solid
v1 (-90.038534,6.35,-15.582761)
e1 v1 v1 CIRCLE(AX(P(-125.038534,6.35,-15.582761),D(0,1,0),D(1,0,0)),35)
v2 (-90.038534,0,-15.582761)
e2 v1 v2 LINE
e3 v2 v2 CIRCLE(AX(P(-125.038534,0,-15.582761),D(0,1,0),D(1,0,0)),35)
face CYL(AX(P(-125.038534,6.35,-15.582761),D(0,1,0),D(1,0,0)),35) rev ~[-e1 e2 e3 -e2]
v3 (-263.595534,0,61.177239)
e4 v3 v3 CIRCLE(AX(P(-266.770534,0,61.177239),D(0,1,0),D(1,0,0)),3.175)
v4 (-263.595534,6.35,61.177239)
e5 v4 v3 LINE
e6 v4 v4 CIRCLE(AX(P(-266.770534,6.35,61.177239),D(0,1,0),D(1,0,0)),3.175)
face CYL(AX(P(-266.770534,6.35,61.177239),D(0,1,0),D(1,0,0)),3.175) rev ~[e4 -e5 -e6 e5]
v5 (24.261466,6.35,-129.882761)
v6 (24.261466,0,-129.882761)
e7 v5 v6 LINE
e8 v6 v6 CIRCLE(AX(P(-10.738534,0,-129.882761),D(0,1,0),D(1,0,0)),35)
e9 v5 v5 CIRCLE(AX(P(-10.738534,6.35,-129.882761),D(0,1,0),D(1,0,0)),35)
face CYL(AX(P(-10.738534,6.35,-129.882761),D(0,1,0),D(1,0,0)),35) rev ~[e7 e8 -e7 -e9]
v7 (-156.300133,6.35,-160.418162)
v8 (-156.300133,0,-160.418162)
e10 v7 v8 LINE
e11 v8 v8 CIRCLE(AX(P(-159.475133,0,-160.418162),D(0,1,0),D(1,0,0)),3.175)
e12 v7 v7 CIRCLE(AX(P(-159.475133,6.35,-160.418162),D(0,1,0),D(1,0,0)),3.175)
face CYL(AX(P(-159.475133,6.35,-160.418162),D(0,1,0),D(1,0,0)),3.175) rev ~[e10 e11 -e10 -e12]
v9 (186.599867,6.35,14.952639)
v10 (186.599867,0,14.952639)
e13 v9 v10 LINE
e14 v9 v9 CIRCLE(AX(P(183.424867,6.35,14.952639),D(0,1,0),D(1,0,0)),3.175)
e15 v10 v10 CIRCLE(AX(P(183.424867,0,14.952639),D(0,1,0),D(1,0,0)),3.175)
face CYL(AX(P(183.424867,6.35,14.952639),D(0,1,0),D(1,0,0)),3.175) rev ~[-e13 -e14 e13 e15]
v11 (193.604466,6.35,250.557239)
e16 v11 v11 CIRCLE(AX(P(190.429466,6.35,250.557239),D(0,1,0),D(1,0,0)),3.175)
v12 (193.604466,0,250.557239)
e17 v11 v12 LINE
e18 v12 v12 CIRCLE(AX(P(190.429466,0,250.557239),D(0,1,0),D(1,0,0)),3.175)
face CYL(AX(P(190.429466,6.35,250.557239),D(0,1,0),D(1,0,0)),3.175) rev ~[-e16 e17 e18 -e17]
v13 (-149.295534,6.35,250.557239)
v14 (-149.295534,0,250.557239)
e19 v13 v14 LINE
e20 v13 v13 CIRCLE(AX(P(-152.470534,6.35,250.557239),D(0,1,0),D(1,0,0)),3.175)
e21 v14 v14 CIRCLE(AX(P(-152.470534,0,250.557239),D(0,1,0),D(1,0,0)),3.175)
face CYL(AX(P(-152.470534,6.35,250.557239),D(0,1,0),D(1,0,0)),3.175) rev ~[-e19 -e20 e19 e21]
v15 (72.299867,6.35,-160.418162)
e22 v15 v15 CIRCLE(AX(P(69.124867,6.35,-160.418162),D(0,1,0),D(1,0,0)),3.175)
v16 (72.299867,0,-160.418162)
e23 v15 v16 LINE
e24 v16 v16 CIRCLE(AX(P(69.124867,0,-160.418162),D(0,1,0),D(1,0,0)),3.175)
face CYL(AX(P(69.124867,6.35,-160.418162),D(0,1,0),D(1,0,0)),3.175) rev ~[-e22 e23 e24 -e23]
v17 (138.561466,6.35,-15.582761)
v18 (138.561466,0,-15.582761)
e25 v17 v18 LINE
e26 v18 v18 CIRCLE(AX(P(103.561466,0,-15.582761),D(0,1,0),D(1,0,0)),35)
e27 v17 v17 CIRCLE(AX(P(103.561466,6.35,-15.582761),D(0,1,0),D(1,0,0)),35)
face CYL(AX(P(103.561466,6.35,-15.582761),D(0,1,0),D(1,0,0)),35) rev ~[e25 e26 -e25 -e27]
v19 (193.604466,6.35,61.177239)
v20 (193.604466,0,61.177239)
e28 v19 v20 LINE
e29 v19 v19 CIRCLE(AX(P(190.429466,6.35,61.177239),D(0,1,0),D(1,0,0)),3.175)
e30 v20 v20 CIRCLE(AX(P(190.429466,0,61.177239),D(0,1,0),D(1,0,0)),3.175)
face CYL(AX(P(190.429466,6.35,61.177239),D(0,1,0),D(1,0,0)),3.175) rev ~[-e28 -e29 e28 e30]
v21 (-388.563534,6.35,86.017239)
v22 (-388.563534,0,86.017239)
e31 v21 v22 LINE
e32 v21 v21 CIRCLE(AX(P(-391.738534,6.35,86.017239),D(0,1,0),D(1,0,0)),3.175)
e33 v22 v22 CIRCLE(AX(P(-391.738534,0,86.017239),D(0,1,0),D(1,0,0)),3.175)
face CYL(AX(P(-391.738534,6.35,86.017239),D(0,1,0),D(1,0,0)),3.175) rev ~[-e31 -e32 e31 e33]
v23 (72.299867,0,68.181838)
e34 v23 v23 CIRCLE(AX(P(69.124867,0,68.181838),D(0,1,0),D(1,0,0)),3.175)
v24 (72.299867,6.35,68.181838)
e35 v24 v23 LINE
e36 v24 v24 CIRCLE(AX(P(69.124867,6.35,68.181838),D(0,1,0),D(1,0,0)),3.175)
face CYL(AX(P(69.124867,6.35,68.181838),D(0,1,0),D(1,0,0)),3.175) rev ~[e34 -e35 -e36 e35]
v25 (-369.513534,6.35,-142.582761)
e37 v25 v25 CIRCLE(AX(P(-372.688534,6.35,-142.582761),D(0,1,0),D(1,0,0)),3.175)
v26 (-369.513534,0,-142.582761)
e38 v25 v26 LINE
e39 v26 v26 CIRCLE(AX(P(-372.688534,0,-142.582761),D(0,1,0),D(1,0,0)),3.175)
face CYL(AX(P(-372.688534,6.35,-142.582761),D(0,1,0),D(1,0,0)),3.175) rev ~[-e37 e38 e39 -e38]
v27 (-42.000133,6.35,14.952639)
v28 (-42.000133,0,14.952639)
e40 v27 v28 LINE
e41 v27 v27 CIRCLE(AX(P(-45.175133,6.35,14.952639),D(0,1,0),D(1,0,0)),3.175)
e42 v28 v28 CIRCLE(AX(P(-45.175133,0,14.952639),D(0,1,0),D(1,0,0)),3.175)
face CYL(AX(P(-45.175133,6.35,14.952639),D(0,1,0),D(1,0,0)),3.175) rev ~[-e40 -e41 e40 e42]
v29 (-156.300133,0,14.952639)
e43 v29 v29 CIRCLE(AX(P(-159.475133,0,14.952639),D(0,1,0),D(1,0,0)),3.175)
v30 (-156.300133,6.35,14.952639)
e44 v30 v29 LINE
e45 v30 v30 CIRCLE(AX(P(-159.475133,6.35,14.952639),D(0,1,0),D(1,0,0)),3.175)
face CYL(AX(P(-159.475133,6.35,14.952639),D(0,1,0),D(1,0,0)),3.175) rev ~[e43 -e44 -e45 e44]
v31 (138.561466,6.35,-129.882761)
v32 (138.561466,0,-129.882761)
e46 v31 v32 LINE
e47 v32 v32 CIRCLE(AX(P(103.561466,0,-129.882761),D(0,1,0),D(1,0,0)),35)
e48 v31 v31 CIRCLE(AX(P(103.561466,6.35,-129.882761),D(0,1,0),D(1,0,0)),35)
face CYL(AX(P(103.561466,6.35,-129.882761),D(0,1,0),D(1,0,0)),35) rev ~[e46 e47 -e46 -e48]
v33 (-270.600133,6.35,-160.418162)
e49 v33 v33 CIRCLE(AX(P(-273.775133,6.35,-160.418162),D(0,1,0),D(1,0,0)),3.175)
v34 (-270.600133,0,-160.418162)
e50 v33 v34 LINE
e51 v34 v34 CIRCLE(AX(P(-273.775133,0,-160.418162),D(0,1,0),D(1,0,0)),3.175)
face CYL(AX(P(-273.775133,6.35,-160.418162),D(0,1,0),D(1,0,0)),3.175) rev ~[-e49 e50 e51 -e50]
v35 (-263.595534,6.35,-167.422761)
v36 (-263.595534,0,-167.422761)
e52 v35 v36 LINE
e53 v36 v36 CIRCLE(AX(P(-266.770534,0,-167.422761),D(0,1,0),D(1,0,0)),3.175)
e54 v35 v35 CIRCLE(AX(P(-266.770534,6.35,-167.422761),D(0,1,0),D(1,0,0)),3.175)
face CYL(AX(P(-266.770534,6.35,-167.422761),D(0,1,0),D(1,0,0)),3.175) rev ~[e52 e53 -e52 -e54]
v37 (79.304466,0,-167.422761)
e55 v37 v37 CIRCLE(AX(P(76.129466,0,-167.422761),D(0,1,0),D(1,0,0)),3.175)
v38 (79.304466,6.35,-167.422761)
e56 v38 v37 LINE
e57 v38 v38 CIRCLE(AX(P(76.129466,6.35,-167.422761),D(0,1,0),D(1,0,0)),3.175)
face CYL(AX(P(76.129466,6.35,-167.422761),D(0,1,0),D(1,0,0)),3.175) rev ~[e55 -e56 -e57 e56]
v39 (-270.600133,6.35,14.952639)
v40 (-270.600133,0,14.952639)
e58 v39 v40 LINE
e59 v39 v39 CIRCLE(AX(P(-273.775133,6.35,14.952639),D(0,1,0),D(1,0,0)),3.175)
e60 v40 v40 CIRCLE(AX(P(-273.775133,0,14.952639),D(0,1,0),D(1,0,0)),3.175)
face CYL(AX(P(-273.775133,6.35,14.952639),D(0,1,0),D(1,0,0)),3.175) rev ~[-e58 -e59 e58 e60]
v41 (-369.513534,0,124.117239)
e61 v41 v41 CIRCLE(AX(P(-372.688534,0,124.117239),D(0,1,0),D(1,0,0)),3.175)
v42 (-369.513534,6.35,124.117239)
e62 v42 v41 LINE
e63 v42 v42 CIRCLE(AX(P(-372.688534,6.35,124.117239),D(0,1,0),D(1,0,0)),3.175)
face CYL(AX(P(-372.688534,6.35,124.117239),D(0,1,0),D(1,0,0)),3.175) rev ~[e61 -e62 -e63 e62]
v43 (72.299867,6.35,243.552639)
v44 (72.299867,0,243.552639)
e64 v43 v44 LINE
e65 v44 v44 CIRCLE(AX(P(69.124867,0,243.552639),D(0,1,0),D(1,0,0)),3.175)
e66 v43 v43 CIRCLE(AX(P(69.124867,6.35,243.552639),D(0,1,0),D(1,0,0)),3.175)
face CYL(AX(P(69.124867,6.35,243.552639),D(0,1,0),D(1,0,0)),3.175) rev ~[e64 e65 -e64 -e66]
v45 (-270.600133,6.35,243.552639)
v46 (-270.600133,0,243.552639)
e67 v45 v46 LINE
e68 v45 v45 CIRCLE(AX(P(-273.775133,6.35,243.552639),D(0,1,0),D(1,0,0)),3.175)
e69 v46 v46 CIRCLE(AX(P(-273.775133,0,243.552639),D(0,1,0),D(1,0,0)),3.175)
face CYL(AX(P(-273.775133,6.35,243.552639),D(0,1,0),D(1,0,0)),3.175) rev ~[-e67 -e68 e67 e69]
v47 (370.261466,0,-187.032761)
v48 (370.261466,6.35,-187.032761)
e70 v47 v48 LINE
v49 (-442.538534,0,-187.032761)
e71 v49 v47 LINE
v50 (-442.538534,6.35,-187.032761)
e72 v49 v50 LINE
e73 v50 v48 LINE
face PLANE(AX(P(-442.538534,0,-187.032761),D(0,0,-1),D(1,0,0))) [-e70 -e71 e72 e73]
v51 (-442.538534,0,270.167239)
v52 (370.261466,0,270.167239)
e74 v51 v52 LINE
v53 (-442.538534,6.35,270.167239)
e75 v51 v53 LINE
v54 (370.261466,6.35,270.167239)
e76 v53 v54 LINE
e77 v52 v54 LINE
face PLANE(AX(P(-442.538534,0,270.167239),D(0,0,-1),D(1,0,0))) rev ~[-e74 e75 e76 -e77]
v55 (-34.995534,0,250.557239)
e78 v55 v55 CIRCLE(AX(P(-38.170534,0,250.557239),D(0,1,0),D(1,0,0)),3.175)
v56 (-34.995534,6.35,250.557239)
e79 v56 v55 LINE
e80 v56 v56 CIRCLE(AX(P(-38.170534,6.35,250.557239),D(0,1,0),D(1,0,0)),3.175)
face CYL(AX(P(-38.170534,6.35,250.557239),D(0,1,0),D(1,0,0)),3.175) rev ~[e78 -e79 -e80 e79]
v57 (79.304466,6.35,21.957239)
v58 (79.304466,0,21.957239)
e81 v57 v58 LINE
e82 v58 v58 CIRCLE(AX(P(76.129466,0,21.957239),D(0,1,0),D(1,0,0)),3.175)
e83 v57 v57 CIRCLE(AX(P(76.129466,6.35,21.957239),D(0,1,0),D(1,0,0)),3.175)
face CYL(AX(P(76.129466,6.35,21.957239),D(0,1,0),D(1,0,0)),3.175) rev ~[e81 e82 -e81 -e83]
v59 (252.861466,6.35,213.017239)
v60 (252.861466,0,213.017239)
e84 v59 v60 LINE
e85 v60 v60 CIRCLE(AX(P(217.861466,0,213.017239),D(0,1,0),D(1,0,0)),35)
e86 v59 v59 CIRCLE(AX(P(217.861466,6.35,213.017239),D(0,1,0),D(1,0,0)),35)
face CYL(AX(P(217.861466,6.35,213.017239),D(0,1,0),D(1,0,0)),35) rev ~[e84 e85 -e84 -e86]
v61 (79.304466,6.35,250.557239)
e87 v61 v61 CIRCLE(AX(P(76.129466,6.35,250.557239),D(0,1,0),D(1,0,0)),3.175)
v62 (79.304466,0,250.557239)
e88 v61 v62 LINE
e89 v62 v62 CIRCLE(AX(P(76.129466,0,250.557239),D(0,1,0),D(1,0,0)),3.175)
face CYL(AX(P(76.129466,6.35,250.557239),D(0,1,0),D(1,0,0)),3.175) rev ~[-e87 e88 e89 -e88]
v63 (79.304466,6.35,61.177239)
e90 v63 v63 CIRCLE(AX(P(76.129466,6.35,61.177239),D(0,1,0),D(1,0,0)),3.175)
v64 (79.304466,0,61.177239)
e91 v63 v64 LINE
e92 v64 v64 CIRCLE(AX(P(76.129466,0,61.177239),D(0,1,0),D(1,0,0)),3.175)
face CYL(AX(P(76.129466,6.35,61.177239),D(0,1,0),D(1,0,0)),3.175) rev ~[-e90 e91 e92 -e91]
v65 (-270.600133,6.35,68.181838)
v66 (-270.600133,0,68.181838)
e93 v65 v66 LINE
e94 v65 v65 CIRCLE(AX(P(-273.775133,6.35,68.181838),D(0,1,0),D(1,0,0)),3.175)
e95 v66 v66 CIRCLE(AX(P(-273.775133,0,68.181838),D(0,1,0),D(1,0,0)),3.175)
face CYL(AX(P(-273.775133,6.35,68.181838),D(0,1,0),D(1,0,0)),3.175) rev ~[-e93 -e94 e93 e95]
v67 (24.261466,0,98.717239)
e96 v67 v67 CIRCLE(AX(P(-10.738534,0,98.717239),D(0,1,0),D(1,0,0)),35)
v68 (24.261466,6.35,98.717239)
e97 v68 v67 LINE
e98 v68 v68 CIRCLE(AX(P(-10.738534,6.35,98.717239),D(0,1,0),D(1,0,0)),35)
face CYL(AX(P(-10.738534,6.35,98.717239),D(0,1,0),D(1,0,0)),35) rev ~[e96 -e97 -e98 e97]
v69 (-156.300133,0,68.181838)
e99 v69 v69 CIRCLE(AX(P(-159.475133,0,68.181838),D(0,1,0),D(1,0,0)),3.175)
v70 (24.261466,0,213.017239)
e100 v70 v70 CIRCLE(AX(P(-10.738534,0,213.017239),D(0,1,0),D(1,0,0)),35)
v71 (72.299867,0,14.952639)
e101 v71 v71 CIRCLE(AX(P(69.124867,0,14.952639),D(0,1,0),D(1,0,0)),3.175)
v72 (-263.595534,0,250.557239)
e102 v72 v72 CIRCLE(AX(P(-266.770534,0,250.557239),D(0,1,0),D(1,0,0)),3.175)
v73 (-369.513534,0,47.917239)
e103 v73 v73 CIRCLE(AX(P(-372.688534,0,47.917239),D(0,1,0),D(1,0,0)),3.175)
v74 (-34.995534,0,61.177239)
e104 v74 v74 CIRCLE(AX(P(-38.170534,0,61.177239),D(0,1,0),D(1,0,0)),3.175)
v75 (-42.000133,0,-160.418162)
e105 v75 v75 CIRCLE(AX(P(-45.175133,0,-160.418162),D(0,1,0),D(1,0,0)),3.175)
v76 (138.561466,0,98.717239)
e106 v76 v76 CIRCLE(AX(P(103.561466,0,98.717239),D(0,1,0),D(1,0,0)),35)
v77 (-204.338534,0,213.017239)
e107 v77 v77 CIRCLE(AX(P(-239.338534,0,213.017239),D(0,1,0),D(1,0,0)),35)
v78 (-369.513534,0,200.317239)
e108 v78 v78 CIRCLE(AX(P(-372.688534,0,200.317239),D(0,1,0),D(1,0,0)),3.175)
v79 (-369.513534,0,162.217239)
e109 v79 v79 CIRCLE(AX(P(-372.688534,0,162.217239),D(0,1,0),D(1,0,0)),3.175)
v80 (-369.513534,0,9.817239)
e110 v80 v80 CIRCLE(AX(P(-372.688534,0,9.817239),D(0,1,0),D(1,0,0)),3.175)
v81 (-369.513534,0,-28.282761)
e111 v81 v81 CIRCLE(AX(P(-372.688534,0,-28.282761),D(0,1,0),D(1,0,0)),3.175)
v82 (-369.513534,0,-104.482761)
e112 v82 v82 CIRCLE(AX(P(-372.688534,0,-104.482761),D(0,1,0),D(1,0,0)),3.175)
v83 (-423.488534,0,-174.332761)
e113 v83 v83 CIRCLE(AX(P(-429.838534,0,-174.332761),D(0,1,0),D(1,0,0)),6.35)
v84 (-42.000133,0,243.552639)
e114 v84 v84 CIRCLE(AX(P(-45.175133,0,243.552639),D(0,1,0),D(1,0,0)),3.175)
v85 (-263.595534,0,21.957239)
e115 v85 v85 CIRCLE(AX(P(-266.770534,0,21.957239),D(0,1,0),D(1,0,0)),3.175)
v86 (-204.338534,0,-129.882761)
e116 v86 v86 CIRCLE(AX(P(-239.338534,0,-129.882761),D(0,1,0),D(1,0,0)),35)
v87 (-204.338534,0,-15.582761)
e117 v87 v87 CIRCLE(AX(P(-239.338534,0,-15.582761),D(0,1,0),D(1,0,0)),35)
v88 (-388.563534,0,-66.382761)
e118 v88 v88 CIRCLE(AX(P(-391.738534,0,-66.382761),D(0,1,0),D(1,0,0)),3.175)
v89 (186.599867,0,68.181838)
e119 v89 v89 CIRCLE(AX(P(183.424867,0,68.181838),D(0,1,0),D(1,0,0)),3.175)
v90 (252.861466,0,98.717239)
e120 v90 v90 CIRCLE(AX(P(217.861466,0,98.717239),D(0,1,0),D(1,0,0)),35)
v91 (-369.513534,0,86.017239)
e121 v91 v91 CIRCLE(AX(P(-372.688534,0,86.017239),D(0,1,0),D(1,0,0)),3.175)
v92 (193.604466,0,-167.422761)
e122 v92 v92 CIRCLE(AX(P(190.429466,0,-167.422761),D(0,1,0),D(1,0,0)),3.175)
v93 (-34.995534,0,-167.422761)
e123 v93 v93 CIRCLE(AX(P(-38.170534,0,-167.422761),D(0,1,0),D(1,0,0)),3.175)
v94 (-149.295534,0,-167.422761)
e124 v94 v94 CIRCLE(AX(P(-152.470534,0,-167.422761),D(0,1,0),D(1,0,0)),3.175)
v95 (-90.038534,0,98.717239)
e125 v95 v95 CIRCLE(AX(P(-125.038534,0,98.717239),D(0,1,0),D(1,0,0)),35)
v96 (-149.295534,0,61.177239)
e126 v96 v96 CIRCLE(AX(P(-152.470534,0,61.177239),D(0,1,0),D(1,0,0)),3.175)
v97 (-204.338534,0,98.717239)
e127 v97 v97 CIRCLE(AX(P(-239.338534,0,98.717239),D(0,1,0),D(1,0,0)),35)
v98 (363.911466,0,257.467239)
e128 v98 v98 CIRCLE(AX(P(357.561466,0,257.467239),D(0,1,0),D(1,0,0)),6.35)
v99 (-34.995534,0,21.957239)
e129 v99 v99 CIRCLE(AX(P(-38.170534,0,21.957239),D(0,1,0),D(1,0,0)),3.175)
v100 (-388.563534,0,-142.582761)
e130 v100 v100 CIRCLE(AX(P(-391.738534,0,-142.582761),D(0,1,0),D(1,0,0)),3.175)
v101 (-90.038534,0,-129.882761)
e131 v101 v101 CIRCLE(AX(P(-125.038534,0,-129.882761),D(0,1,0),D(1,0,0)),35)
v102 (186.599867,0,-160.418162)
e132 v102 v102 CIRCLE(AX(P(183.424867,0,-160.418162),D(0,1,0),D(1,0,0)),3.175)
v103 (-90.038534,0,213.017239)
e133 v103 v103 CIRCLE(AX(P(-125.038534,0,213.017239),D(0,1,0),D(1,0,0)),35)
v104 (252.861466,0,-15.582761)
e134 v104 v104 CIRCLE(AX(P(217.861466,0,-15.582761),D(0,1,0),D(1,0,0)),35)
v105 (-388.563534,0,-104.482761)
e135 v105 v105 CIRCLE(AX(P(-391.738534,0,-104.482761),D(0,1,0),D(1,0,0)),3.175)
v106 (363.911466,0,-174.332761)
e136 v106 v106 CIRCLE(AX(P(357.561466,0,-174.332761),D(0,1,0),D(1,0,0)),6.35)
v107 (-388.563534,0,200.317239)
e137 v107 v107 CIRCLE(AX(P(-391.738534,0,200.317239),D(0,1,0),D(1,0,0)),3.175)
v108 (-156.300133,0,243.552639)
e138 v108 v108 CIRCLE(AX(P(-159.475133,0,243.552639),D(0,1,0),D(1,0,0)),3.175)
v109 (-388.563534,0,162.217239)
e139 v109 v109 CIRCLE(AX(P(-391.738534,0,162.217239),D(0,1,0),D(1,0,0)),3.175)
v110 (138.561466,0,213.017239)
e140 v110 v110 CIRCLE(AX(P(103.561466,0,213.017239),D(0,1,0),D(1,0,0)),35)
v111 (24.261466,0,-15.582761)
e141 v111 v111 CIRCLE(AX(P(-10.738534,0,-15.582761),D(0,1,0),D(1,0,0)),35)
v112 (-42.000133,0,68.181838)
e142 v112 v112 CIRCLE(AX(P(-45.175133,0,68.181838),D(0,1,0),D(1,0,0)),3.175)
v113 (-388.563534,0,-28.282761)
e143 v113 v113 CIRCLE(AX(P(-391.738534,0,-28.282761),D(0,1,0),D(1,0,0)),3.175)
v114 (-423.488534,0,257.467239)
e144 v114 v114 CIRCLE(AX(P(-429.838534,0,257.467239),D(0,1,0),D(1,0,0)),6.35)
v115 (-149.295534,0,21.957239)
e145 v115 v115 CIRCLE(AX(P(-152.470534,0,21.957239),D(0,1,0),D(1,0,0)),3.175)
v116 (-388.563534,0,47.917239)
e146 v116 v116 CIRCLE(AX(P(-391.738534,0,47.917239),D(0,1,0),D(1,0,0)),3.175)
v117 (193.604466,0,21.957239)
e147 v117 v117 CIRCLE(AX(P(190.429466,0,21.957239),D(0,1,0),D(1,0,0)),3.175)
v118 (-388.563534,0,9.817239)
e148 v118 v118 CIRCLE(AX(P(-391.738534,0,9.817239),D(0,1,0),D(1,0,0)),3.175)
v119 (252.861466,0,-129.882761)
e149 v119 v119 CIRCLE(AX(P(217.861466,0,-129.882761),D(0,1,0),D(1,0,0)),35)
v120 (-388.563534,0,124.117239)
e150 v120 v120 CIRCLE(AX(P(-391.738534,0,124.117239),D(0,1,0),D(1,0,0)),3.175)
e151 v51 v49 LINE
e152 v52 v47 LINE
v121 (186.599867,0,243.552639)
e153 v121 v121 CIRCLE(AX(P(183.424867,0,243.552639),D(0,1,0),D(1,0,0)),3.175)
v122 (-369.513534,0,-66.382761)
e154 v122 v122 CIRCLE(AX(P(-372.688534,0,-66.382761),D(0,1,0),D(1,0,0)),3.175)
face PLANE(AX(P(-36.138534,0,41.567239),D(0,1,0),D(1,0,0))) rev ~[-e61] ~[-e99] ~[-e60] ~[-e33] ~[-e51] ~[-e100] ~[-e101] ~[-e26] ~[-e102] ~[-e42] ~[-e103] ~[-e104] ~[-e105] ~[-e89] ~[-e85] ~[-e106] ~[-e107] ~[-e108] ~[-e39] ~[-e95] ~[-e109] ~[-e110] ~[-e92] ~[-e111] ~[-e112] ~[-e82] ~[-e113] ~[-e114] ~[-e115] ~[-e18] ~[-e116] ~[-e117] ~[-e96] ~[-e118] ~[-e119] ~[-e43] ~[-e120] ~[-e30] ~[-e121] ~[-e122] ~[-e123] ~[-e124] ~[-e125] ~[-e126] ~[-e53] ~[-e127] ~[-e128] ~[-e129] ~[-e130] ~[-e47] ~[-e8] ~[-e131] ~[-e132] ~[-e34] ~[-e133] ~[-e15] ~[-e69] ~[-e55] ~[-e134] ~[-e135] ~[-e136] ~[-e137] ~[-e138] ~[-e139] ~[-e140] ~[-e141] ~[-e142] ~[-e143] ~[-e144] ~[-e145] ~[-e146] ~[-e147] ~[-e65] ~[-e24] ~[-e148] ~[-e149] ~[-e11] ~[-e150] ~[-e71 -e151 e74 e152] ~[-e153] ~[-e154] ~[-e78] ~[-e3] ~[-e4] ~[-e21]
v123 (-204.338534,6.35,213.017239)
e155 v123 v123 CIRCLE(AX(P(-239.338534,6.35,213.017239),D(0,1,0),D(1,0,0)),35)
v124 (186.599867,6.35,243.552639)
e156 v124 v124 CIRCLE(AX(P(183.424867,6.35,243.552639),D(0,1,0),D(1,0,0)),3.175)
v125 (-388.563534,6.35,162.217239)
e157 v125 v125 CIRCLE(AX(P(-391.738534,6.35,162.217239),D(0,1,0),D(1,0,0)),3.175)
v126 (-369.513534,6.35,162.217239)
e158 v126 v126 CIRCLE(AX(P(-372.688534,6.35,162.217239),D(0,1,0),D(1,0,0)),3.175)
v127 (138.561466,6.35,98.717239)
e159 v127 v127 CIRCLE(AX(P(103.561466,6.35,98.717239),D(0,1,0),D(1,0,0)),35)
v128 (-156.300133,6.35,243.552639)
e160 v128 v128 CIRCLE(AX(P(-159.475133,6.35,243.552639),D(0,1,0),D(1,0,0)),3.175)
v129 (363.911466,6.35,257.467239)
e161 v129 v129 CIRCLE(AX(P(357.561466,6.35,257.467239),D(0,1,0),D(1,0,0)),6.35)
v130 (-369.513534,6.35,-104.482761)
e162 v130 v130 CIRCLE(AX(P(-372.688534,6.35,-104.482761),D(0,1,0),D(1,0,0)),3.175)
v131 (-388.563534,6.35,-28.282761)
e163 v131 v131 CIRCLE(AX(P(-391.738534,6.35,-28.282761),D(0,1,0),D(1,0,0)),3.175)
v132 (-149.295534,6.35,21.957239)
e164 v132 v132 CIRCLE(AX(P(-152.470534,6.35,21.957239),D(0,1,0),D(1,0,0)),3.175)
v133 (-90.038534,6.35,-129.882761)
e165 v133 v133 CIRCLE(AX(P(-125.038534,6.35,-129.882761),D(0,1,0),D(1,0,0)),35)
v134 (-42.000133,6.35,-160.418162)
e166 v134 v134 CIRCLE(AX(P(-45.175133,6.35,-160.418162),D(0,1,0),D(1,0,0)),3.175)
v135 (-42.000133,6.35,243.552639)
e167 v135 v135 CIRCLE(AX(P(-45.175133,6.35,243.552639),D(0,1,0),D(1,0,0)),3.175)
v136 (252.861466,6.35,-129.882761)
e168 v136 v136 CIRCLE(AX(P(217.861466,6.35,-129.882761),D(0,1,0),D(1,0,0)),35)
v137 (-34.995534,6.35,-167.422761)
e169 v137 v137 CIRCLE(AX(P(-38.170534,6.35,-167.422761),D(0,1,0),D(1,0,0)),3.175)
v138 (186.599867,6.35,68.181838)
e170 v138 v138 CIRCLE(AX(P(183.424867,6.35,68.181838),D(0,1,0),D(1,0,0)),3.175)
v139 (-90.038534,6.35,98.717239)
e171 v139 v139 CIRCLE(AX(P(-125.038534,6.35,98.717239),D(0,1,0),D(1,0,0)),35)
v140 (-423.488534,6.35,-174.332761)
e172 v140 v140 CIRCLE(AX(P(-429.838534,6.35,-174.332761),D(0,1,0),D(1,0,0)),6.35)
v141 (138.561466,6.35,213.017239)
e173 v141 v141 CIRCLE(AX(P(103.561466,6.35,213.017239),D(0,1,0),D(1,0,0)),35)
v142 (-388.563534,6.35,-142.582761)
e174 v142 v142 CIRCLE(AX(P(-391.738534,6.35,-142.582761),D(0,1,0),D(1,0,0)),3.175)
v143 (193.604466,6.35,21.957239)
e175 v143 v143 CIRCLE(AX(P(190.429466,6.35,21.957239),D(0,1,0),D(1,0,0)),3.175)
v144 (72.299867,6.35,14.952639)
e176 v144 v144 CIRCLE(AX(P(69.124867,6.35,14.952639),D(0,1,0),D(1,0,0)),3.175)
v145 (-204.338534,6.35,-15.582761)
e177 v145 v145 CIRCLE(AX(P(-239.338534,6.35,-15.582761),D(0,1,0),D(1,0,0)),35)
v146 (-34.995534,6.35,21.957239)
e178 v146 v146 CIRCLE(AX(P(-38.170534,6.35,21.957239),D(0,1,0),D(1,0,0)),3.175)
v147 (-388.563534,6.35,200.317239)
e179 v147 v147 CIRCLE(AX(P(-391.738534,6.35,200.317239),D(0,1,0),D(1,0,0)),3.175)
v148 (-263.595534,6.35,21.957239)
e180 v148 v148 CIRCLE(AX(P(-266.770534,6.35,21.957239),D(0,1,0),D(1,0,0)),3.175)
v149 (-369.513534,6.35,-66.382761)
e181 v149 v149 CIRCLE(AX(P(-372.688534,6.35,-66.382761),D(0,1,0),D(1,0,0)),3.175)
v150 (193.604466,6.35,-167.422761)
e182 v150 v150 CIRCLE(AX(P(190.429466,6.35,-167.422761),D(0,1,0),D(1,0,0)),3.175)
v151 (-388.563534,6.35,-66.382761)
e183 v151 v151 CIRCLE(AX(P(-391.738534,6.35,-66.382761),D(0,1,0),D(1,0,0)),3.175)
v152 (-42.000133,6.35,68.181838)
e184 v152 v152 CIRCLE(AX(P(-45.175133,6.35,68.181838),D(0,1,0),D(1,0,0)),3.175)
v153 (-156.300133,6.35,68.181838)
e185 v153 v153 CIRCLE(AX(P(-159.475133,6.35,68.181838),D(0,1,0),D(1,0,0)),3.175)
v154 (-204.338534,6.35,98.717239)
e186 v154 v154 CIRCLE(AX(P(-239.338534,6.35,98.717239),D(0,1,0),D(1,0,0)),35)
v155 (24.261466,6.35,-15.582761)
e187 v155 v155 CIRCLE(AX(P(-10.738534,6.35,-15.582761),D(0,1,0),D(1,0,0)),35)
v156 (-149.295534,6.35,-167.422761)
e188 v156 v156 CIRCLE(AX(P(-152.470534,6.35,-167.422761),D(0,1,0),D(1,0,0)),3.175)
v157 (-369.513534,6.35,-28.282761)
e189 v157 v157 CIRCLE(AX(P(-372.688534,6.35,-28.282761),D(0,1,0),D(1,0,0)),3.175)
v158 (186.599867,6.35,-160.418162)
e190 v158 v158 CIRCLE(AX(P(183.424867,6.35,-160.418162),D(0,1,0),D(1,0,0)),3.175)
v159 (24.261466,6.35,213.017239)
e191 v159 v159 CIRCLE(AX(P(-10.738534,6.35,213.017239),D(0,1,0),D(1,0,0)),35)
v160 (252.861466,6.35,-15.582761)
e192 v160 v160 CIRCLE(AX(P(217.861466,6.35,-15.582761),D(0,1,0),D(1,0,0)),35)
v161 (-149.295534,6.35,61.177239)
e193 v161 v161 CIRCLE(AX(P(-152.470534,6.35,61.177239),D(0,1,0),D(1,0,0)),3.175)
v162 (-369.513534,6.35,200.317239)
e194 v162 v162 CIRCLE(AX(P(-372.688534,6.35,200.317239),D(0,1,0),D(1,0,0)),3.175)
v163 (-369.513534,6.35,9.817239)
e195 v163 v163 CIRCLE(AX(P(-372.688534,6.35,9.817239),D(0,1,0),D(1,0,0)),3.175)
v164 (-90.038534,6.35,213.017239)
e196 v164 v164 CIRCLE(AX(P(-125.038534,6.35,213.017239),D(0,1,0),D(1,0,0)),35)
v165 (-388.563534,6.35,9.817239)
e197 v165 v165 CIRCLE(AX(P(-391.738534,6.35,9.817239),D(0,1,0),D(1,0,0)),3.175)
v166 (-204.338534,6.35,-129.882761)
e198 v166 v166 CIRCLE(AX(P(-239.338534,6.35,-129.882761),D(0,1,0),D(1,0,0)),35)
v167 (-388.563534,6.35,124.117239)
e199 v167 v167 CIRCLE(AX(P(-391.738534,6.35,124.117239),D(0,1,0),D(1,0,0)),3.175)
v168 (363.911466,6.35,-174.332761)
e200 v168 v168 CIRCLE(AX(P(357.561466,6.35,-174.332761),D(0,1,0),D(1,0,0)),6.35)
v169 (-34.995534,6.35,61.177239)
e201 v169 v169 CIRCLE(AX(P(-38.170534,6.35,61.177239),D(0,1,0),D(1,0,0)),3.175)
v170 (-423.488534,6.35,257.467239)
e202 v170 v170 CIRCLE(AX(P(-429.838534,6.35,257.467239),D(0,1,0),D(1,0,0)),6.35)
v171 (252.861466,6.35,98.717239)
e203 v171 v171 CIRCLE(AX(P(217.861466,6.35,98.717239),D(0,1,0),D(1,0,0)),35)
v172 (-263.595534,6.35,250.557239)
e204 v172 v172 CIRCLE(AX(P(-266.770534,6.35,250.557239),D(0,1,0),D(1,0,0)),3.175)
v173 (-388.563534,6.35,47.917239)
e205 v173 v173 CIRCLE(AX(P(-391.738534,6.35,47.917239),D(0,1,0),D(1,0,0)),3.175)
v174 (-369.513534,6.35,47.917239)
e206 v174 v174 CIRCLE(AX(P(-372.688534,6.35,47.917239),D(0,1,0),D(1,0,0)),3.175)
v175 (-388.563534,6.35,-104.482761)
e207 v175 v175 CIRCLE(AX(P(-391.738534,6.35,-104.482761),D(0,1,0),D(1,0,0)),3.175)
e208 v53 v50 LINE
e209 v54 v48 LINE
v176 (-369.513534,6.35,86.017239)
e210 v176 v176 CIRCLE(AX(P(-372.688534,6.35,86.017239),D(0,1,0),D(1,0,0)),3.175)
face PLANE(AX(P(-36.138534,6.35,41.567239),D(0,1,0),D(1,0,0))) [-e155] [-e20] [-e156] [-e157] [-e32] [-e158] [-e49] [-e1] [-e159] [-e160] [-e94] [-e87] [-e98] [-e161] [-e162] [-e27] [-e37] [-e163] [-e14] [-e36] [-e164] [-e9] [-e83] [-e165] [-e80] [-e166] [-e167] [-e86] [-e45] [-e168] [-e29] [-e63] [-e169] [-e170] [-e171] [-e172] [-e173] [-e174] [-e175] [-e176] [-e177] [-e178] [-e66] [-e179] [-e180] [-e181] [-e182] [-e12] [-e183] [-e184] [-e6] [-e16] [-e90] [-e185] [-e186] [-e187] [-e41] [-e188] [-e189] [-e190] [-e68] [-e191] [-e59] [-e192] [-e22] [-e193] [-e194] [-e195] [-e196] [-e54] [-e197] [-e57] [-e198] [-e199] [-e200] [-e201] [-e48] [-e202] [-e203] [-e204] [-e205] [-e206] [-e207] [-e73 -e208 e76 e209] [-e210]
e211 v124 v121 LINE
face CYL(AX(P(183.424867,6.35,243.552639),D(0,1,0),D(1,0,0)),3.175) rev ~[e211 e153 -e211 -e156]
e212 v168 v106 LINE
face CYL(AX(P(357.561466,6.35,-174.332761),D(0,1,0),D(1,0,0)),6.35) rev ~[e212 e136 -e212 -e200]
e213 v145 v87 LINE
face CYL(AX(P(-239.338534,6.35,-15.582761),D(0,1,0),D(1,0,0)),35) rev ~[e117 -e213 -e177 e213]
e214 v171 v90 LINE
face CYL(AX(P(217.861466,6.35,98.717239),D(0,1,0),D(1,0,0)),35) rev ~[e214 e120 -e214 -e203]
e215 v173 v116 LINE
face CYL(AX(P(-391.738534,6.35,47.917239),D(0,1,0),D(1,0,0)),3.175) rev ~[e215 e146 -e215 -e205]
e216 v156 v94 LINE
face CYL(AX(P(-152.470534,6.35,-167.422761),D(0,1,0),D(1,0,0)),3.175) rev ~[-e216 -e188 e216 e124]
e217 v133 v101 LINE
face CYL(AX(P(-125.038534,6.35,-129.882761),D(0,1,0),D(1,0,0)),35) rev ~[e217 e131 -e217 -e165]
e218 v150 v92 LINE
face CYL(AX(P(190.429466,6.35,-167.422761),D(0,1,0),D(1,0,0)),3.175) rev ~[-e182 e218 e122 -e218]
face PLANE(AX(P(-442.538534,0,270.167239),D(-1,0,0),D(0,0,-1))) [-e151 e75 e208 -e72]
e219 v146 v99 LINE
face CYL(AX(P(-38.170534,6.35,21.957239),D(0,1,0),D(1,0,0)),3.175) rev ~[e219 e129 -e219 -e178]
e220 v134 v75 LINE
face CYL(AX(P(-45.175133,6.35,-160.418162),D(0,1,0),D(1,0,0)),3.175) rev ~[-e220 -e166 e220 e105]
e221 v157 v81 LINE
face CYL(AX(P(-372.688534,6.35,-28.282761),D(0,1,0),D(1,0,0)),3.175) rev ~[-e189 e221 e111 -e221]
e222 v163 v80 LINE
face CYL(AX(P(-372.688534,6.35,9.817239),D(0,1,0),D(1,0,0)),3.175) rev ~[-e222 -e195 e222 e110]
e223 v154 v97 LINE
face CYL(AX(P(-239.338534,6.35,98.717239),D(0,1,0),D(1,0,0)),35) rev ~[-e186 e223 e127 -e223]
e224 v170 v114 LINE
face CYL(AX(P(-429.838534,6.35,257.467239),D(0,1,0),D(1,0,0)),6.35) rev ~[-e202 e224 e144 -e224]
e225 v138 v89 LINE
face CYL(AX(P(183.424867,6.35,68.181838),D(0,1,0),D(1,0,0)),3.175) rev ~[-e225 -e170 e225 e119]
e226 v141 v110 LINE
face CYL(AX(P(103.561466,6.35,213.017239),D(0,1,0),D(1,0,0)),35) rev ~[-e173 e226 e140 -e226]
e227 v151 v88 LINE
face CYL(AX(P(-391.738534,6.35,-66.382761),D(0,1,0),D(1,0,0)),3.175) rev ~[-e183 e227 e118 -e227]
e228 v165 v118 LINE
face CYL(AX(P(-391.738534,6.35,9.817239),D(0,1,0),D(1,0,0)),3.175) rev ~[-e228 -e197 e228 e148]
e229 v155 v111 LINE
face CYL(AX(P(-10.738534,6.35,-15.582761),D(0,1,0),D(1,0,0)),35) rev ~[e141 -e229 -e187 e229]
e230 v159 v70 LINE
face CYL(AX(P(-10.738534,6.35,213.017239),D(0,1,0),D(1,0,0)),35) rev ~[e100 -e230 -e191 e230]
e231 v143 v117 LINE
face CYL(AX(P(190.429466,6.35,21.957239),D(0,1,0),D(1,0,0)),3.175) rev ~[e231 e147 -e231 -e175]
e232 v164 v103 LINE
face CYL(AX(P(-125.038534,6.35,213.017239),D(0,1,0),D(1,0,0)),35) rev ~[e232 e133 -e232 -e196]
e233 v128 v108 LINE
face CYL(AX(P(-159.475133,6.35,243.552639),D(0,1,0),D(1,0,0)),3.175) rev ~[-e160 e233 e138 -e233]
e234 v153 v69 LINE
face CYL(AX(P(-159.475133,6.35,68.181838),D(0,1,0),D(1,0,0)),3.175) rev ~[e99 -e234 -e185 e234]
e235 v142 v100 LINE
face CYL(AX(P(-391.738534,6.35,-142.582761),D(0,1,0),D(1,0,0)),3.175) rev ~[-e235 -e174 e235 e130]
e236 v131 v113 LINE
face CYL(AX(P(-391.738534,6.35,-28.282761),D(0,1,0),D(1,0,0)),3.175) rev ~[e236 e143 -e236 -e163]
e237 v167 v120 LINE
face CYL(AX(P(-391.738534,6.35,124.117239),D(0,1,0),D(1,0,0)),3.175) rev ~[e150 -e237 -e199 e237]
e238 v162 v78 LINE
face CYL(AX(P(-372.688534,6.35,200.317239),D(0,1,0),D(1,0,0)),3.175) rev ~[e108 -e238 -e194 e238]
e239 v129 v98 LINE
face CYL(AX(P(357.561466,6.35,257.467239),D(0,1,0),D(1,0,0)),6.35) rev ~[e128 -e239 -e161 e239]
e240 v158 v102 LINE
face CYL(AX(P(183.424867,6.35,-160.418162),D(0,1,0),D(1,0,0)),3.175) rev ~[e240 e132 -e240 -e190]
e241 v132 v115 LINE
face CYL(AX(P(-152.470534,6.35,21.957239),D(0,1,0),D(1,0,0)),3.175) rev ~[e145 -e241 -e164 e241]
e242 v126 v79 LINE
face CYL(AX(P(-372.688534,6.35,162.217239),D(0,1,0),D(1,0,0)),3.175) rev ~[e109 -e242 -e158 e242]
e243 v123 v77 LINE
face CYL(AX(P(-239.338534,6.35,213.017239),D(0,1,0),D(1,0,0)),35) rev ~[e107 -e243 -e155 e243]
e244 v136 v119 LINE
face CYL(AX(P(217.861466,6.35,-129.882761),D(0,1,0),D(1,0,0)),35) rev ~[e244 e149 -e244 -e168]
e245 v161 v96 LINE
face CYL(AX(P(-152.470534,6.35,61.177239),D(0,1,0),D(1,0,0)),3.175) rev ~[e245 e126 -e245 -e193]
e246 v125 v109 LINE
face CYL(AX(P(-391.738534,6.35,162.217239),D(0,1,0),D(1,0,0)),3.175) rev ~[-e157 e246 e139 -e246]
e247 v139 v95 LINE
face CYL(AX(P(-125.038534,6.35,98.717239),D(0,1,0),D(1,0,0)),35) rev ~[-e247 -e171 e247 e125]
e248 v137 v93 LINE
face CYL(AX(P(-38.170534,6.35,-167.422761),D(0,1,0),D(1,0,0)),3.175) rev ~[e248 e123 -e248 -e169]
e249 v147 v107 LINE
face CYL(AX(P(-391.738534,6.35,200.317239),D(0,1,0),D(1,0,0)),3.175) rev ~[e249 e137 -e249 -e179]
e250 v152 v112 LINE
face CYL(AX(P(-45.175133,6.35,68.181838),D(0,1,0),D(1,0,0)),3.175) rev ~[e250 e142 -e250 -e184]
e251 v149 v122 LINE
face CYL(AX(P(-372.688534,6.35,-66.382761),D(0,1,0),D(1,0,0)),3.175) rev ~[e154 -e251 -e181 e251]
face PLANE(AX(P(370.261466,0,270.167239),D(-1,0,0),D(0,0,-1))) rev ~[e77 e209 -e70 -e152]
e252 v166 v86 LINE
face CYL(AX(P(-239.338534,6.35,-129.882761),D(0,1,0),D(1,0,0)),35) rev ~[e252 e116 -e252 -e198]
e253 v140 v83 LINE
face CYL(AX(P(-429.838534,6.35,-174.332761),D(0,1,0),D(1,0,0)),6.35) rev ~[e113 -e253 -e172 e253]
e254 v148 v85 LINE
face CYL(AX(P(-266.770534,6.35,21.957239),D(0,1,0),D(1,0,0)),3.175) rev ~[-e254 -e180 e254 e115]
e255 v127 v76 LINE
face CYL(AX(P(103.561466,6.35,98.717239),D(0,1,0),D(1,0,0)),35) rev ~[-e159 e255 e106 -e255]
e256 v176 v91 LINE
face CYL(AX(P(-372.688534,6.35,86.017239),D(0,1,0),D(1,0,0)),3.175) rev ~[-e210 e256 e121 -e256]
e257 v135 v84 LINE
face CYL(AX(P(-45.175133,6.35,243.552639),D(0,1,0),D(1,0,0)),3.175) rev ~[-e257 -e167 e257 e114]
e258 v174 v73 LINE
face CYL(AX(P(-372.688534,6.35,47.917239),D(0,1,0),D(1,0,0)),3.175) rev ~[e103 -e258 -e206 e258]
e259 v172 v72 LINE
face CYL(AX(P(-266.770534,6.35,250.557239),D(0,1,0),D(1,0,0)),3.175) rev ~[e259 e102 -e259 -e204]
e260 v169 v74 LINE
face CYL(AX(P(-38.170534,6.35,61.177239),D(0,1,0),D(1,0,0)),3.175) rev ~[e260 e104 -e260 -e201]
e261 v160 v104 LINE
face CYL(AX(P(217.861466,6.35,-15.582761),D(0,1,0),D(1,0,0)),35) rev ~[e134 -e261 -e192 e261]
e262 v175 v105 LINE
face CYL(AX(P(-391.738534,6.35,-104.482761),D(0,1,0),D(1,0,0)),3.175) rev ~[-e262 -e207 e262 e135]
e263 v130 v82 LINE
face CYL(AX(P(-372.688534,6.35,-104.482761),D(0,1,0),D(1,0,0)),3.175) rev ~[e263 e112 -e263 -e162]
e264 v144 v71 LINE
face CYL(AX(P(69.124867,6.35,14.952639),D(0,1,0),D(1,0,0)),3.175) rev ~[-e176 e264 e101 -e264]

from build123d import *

# Parameters (mm, degrees)
SKETCH1_W           = 812.8
SKETCH1_H           = 457.2
BOSS_EXTRUDE1_DEPTH = 6.35
SKETCH3_R           = 35
SKETCH3_R_2         = 3.175
SKETCH3_R_3         = 6.35
CUT_EXTRUDE1_DEPTH  = 6.35


with BuildPart() as part:
    # Sketch1 → Boss-Extrude1 (new body)
    with BuildSketch(Plane(origin=(0, 0, 0), x_dir=(1, 0, 0), z_dir=(0, 1, 0))):
        with Locations((-36.138533541, -41.56723869)):
            Rectangle(SKETCH1_W, SKETCH1_H)
    extrude(amount=BOSS_EXTRUDE1_DEPTH)

    # Sketch3 → Cut-Extrude1 (cut)
    with BuildSketch(Plane(origin=(0, 6.35, 0), x_dir=(1, 0, 0), z_dir=(0, 1, 0))):
        with Locations((-239.338533541, 129.88276131)):
            Circle(SKETCH3_R)
        with Locations((-125.038533541, 129.88276131)):
            Circle(SKETCH3_R)
        with Locations((-10.738533541, 129.88276131)):
            Circle(SKETCH3_R)
        with Locations((103.561466459, 129.88276131)):
            Circle(SKETCH3_R)
        with Locations((217.861466459, 129.88276131)):
            Circle(SKETCH3_R)
        with Locations((-125.038533541, 15.58276131)):
            Circle(SKETCH3_R)
        with Locations((-10.738533541, 15.58276131)):
            Circle(SKETCH3_R)
        with Locations((103.561466459, 15.58276131)):
            Circle(SKETCH3_R)
        with Locations((217.861466459, 15.58276131)):
            Circle(SKETCH3_R)
        with Locations((-239.338533541, 15.58276131)):
            Circle(SKETCH3_R)
        with Locations((-391.738533541, 142.58276131)):
            Circle(SKETCH3_R_2)
        with Locations((-372.688533541, 142.58276131)):
            Circle(SKETCH3_R_2)
        with Locations((-372.688533541, 104.48276131)):
            Circle(SKETCH3_R_2)
        with Locations((-372.688533541, 66.38276131)):
            Circle(SKETCH3_R_2)
        with Locations((-372.688533541, 28.28276131)):
            Circle(SKETCH3_R_2)
        with Locations((-372.688533541, -9.81723869)):
            Circle(SKETCH3_R_2)
        with Locations((-372.688533541, -47.91723869)):
            Circle(SKETCH3_R_2)
        with Locations((-372.688533541, -86.01723869)):
            Circle(SKETCH3_R_2)
        with Locations((-372.688533541, -124.11723869)):
            Circle(SKETCH3_R_2)
        with Locations((-372.688533541, -162.21723869)):
            Circle(SKETCH3_R_2)
        with Locations((-372.688533541, -200.31723869)):
            Circle(SKETCH3_R_2)
        with Locations((-391.738533541, 104.48276131)):
            Circle(SKETCH3_R_2)
        with Locations((-391.738533541, 66.38276131)):
            Circle(SKETCH3_R_2)
        with Locations((-391.738533541, 28.28276131)):
            Circle(SKETCH3_R_2)
        with Locations((-391.738533541, -9.81723869)):
            Circle(SKETCH3_R_2)
        with Locations((-391.738533541, -47.91723869)):
            Circle(SKETCH3_R_2)
        with Locations((-391.738533541, -86.01723869)):
            Circle(SKETCH3_R_2)
        with Locations((-391.738533541, -124.11723869)):
            Circle(SKETCH3_R_2)
        with Locations((-391.738533541, -162.21723869)):
            Circle(SKETCH3_R_2)
        with Locations((-391.738533541, -200.31723869)):
            Circle(SKETCH3_R_2)
        with Locations((-429.838533541, 174.33276131)):
            Circle(SKETCH3_R_3)
        with Locations((-429.838533541, -257.46723869)):
            Circle(SKETCH3_R_3)
        with Locations((357.561466459, -257.46723869)):
            Circle(SKETCH3_R_3)
        with Locations((357.561466459, 174.33276131)):
            Circle(SKETCH3_R_3)
        with Locations((-266.770533541, 167.42276131)):
            Circle(SKETCH3_R_2)
        with Locations((-273.775133316, 160.418161536)):
            Circle(SKETCH3_R_2)
        with Locations((-152.470533541, 167.42276131)):
            Circle(SKETCH3_R_2)
        with Locations((-159.475133316, 160.418161536)):
            Circle(SKETCH3_R_2)
        with Locations((-38.170533541, 167.42276131)):
            Circle(SKETCH3_R_2)
        with Locations((-45.175133316, 160.418161536)):
            Circle(SKETCH3_R_2)
        with Locations((76.129466459, 167.42276131)):
            Circle(SKETCH3_R_2)
        with Locations((69.124866684, 160.418161536)):
            Circle(SKETCH3_R_2)
        with Locations((190.429466459, 167.42276131)):
            Circle(SKETCH3_R_2)
        with Locations((183.424866684, 160.418161536)):
            Circle(SKETCH3_R_2)
        with Locations((190.429466459, -21.95723869)):
            Circle(SKETCH3_R_2)
        with Locations((76.129466459, -21.95723869)):
            Circle(SKETCH3_R_2)
        with Locations((69.124866684, -14.952638915)):
            Circle(SKETCH3_R_2)
        with Locations((183.424866684, -14.952638915)):
            Circle(SKETCH3_R_2)
        with Locations((-38.170533541, -21.95723869)):
            Circle(SKETCH3_R_2)
        with Locations((-45.175133316, -14.952638915)):
            Circle(SKETCH3_R_2)
        with Locations((-152.470533541, -21.95723869)):
            Circle(SKETCH3_R_2)
        with Locations((-159.475133316, -14.952638915)):
            Circle(SKETCH3_R_2)
        with Locations((-266.770533541, -21.95723869)):
            Circle(SKETCH3_R_2)
        with Locations((-273.775133316, -14.952638915)):
            Circle(SKETCH3_R_2)
        with Locations((-273.775133316, -68.181838464)):
            Circle(SKETCH3_R_2)
        with Locations((-266.770533541, -61.17723869)):
            Circle(SKETCH3_R_2)
        with Locations((-159.475133316, -68.181838464)):
            Circle(SKETCH3_R_2)
        with Locations((-152.470533541, -61.17723869)):
            Circle(SKETCH3_R_2)
        with Locations((-45.175133316, -68.181838464)):
            Circle(SKETCH3_R_2)
        with Locations((-38.170533541, -61.17723869)):
            Circle(SKETCH3_R_2)
        with Locations((183.424866684, -68.181838464)):
            Circle(SKETCH3_R_2)
        with Locations((69.124866684, -68.181838464)):
            Circle(SKETCH3_R_2)
        with Locations((76.129466459, -61.17723869)):
            Circle(SKETCH3_R_2)
        with Locations((190.429466459, -61.17723869)):
            Circle(SKETCH3_R_2)
        with Locations((183.424866684, -243.552638915)):
            Circle(SKETCH3_R_2)
        with Locations((190.429466459, -250.55723869)):
            Circle(SKETCH3_R_2)
        with Locations((69.124866684, -243.552638915)):
            Circle(SKETCH3_R_2)
        with Locations((76.129466459, -250.55723869)):
            Circle(SKETCH3_R_2)
        with Locations((-45.175133316, -243.552638915)):
            Circle(SKETCH3_R_2)
        with Locations((-38.170533541, -250.55723869)):
            Circle(SKETCH3_R_2)
        with Locations((-159.475133316, -243.552638915)):
            Circle(SKETCH3_R_2)
        with Locations((-152.470533541, -250.55723869)):
            Circle(SKETCH3_R_2)
        with Locations((-273.775133316, -243.552638915)):
            Circle(SKETCH3_R_2)
        with Locations((-266.770533541, -250.55723869)):
            Circle(SKETCH3_R_2)
        with Locations((-239.338533541, -98.71723869)):
            Circle(SKETCH3_R)
        with Locations((217.861466459, -98.71723869)):
            Circle(SKETCH3_R)
        with Locations((103.561466459, -98.71723869)):
            Circle(SKETCH3_R)
        with Locations((-10.738533541, -98.71723869)):
            Circle(SKETCH3_R)
        with Locations((-125.038533541, -98.71723869)):
            Circle(SKETCH3_R)
        with Locations((217.861466459, -213.01723869)):
            Circle(SKETCH3_R)
        with Locations((103.561466459, -213.01723869)):
            Circle(SKETCH3_R)
        with Locations((-10.738533541, -213.01723869)):
            Circle(SKETCH3_R)
        with Locations((-125.038533541, -213.01723869)):
            Circle(SKETCH3_R)
        with Locations((-239.338533541, -213.01723869)):
            Circle(SKETCH3_R)
    extrude(amount=-CUT_EXTRUDE1_DEPTH, mode=Mode.SUBTRACT)


solid = part.part
